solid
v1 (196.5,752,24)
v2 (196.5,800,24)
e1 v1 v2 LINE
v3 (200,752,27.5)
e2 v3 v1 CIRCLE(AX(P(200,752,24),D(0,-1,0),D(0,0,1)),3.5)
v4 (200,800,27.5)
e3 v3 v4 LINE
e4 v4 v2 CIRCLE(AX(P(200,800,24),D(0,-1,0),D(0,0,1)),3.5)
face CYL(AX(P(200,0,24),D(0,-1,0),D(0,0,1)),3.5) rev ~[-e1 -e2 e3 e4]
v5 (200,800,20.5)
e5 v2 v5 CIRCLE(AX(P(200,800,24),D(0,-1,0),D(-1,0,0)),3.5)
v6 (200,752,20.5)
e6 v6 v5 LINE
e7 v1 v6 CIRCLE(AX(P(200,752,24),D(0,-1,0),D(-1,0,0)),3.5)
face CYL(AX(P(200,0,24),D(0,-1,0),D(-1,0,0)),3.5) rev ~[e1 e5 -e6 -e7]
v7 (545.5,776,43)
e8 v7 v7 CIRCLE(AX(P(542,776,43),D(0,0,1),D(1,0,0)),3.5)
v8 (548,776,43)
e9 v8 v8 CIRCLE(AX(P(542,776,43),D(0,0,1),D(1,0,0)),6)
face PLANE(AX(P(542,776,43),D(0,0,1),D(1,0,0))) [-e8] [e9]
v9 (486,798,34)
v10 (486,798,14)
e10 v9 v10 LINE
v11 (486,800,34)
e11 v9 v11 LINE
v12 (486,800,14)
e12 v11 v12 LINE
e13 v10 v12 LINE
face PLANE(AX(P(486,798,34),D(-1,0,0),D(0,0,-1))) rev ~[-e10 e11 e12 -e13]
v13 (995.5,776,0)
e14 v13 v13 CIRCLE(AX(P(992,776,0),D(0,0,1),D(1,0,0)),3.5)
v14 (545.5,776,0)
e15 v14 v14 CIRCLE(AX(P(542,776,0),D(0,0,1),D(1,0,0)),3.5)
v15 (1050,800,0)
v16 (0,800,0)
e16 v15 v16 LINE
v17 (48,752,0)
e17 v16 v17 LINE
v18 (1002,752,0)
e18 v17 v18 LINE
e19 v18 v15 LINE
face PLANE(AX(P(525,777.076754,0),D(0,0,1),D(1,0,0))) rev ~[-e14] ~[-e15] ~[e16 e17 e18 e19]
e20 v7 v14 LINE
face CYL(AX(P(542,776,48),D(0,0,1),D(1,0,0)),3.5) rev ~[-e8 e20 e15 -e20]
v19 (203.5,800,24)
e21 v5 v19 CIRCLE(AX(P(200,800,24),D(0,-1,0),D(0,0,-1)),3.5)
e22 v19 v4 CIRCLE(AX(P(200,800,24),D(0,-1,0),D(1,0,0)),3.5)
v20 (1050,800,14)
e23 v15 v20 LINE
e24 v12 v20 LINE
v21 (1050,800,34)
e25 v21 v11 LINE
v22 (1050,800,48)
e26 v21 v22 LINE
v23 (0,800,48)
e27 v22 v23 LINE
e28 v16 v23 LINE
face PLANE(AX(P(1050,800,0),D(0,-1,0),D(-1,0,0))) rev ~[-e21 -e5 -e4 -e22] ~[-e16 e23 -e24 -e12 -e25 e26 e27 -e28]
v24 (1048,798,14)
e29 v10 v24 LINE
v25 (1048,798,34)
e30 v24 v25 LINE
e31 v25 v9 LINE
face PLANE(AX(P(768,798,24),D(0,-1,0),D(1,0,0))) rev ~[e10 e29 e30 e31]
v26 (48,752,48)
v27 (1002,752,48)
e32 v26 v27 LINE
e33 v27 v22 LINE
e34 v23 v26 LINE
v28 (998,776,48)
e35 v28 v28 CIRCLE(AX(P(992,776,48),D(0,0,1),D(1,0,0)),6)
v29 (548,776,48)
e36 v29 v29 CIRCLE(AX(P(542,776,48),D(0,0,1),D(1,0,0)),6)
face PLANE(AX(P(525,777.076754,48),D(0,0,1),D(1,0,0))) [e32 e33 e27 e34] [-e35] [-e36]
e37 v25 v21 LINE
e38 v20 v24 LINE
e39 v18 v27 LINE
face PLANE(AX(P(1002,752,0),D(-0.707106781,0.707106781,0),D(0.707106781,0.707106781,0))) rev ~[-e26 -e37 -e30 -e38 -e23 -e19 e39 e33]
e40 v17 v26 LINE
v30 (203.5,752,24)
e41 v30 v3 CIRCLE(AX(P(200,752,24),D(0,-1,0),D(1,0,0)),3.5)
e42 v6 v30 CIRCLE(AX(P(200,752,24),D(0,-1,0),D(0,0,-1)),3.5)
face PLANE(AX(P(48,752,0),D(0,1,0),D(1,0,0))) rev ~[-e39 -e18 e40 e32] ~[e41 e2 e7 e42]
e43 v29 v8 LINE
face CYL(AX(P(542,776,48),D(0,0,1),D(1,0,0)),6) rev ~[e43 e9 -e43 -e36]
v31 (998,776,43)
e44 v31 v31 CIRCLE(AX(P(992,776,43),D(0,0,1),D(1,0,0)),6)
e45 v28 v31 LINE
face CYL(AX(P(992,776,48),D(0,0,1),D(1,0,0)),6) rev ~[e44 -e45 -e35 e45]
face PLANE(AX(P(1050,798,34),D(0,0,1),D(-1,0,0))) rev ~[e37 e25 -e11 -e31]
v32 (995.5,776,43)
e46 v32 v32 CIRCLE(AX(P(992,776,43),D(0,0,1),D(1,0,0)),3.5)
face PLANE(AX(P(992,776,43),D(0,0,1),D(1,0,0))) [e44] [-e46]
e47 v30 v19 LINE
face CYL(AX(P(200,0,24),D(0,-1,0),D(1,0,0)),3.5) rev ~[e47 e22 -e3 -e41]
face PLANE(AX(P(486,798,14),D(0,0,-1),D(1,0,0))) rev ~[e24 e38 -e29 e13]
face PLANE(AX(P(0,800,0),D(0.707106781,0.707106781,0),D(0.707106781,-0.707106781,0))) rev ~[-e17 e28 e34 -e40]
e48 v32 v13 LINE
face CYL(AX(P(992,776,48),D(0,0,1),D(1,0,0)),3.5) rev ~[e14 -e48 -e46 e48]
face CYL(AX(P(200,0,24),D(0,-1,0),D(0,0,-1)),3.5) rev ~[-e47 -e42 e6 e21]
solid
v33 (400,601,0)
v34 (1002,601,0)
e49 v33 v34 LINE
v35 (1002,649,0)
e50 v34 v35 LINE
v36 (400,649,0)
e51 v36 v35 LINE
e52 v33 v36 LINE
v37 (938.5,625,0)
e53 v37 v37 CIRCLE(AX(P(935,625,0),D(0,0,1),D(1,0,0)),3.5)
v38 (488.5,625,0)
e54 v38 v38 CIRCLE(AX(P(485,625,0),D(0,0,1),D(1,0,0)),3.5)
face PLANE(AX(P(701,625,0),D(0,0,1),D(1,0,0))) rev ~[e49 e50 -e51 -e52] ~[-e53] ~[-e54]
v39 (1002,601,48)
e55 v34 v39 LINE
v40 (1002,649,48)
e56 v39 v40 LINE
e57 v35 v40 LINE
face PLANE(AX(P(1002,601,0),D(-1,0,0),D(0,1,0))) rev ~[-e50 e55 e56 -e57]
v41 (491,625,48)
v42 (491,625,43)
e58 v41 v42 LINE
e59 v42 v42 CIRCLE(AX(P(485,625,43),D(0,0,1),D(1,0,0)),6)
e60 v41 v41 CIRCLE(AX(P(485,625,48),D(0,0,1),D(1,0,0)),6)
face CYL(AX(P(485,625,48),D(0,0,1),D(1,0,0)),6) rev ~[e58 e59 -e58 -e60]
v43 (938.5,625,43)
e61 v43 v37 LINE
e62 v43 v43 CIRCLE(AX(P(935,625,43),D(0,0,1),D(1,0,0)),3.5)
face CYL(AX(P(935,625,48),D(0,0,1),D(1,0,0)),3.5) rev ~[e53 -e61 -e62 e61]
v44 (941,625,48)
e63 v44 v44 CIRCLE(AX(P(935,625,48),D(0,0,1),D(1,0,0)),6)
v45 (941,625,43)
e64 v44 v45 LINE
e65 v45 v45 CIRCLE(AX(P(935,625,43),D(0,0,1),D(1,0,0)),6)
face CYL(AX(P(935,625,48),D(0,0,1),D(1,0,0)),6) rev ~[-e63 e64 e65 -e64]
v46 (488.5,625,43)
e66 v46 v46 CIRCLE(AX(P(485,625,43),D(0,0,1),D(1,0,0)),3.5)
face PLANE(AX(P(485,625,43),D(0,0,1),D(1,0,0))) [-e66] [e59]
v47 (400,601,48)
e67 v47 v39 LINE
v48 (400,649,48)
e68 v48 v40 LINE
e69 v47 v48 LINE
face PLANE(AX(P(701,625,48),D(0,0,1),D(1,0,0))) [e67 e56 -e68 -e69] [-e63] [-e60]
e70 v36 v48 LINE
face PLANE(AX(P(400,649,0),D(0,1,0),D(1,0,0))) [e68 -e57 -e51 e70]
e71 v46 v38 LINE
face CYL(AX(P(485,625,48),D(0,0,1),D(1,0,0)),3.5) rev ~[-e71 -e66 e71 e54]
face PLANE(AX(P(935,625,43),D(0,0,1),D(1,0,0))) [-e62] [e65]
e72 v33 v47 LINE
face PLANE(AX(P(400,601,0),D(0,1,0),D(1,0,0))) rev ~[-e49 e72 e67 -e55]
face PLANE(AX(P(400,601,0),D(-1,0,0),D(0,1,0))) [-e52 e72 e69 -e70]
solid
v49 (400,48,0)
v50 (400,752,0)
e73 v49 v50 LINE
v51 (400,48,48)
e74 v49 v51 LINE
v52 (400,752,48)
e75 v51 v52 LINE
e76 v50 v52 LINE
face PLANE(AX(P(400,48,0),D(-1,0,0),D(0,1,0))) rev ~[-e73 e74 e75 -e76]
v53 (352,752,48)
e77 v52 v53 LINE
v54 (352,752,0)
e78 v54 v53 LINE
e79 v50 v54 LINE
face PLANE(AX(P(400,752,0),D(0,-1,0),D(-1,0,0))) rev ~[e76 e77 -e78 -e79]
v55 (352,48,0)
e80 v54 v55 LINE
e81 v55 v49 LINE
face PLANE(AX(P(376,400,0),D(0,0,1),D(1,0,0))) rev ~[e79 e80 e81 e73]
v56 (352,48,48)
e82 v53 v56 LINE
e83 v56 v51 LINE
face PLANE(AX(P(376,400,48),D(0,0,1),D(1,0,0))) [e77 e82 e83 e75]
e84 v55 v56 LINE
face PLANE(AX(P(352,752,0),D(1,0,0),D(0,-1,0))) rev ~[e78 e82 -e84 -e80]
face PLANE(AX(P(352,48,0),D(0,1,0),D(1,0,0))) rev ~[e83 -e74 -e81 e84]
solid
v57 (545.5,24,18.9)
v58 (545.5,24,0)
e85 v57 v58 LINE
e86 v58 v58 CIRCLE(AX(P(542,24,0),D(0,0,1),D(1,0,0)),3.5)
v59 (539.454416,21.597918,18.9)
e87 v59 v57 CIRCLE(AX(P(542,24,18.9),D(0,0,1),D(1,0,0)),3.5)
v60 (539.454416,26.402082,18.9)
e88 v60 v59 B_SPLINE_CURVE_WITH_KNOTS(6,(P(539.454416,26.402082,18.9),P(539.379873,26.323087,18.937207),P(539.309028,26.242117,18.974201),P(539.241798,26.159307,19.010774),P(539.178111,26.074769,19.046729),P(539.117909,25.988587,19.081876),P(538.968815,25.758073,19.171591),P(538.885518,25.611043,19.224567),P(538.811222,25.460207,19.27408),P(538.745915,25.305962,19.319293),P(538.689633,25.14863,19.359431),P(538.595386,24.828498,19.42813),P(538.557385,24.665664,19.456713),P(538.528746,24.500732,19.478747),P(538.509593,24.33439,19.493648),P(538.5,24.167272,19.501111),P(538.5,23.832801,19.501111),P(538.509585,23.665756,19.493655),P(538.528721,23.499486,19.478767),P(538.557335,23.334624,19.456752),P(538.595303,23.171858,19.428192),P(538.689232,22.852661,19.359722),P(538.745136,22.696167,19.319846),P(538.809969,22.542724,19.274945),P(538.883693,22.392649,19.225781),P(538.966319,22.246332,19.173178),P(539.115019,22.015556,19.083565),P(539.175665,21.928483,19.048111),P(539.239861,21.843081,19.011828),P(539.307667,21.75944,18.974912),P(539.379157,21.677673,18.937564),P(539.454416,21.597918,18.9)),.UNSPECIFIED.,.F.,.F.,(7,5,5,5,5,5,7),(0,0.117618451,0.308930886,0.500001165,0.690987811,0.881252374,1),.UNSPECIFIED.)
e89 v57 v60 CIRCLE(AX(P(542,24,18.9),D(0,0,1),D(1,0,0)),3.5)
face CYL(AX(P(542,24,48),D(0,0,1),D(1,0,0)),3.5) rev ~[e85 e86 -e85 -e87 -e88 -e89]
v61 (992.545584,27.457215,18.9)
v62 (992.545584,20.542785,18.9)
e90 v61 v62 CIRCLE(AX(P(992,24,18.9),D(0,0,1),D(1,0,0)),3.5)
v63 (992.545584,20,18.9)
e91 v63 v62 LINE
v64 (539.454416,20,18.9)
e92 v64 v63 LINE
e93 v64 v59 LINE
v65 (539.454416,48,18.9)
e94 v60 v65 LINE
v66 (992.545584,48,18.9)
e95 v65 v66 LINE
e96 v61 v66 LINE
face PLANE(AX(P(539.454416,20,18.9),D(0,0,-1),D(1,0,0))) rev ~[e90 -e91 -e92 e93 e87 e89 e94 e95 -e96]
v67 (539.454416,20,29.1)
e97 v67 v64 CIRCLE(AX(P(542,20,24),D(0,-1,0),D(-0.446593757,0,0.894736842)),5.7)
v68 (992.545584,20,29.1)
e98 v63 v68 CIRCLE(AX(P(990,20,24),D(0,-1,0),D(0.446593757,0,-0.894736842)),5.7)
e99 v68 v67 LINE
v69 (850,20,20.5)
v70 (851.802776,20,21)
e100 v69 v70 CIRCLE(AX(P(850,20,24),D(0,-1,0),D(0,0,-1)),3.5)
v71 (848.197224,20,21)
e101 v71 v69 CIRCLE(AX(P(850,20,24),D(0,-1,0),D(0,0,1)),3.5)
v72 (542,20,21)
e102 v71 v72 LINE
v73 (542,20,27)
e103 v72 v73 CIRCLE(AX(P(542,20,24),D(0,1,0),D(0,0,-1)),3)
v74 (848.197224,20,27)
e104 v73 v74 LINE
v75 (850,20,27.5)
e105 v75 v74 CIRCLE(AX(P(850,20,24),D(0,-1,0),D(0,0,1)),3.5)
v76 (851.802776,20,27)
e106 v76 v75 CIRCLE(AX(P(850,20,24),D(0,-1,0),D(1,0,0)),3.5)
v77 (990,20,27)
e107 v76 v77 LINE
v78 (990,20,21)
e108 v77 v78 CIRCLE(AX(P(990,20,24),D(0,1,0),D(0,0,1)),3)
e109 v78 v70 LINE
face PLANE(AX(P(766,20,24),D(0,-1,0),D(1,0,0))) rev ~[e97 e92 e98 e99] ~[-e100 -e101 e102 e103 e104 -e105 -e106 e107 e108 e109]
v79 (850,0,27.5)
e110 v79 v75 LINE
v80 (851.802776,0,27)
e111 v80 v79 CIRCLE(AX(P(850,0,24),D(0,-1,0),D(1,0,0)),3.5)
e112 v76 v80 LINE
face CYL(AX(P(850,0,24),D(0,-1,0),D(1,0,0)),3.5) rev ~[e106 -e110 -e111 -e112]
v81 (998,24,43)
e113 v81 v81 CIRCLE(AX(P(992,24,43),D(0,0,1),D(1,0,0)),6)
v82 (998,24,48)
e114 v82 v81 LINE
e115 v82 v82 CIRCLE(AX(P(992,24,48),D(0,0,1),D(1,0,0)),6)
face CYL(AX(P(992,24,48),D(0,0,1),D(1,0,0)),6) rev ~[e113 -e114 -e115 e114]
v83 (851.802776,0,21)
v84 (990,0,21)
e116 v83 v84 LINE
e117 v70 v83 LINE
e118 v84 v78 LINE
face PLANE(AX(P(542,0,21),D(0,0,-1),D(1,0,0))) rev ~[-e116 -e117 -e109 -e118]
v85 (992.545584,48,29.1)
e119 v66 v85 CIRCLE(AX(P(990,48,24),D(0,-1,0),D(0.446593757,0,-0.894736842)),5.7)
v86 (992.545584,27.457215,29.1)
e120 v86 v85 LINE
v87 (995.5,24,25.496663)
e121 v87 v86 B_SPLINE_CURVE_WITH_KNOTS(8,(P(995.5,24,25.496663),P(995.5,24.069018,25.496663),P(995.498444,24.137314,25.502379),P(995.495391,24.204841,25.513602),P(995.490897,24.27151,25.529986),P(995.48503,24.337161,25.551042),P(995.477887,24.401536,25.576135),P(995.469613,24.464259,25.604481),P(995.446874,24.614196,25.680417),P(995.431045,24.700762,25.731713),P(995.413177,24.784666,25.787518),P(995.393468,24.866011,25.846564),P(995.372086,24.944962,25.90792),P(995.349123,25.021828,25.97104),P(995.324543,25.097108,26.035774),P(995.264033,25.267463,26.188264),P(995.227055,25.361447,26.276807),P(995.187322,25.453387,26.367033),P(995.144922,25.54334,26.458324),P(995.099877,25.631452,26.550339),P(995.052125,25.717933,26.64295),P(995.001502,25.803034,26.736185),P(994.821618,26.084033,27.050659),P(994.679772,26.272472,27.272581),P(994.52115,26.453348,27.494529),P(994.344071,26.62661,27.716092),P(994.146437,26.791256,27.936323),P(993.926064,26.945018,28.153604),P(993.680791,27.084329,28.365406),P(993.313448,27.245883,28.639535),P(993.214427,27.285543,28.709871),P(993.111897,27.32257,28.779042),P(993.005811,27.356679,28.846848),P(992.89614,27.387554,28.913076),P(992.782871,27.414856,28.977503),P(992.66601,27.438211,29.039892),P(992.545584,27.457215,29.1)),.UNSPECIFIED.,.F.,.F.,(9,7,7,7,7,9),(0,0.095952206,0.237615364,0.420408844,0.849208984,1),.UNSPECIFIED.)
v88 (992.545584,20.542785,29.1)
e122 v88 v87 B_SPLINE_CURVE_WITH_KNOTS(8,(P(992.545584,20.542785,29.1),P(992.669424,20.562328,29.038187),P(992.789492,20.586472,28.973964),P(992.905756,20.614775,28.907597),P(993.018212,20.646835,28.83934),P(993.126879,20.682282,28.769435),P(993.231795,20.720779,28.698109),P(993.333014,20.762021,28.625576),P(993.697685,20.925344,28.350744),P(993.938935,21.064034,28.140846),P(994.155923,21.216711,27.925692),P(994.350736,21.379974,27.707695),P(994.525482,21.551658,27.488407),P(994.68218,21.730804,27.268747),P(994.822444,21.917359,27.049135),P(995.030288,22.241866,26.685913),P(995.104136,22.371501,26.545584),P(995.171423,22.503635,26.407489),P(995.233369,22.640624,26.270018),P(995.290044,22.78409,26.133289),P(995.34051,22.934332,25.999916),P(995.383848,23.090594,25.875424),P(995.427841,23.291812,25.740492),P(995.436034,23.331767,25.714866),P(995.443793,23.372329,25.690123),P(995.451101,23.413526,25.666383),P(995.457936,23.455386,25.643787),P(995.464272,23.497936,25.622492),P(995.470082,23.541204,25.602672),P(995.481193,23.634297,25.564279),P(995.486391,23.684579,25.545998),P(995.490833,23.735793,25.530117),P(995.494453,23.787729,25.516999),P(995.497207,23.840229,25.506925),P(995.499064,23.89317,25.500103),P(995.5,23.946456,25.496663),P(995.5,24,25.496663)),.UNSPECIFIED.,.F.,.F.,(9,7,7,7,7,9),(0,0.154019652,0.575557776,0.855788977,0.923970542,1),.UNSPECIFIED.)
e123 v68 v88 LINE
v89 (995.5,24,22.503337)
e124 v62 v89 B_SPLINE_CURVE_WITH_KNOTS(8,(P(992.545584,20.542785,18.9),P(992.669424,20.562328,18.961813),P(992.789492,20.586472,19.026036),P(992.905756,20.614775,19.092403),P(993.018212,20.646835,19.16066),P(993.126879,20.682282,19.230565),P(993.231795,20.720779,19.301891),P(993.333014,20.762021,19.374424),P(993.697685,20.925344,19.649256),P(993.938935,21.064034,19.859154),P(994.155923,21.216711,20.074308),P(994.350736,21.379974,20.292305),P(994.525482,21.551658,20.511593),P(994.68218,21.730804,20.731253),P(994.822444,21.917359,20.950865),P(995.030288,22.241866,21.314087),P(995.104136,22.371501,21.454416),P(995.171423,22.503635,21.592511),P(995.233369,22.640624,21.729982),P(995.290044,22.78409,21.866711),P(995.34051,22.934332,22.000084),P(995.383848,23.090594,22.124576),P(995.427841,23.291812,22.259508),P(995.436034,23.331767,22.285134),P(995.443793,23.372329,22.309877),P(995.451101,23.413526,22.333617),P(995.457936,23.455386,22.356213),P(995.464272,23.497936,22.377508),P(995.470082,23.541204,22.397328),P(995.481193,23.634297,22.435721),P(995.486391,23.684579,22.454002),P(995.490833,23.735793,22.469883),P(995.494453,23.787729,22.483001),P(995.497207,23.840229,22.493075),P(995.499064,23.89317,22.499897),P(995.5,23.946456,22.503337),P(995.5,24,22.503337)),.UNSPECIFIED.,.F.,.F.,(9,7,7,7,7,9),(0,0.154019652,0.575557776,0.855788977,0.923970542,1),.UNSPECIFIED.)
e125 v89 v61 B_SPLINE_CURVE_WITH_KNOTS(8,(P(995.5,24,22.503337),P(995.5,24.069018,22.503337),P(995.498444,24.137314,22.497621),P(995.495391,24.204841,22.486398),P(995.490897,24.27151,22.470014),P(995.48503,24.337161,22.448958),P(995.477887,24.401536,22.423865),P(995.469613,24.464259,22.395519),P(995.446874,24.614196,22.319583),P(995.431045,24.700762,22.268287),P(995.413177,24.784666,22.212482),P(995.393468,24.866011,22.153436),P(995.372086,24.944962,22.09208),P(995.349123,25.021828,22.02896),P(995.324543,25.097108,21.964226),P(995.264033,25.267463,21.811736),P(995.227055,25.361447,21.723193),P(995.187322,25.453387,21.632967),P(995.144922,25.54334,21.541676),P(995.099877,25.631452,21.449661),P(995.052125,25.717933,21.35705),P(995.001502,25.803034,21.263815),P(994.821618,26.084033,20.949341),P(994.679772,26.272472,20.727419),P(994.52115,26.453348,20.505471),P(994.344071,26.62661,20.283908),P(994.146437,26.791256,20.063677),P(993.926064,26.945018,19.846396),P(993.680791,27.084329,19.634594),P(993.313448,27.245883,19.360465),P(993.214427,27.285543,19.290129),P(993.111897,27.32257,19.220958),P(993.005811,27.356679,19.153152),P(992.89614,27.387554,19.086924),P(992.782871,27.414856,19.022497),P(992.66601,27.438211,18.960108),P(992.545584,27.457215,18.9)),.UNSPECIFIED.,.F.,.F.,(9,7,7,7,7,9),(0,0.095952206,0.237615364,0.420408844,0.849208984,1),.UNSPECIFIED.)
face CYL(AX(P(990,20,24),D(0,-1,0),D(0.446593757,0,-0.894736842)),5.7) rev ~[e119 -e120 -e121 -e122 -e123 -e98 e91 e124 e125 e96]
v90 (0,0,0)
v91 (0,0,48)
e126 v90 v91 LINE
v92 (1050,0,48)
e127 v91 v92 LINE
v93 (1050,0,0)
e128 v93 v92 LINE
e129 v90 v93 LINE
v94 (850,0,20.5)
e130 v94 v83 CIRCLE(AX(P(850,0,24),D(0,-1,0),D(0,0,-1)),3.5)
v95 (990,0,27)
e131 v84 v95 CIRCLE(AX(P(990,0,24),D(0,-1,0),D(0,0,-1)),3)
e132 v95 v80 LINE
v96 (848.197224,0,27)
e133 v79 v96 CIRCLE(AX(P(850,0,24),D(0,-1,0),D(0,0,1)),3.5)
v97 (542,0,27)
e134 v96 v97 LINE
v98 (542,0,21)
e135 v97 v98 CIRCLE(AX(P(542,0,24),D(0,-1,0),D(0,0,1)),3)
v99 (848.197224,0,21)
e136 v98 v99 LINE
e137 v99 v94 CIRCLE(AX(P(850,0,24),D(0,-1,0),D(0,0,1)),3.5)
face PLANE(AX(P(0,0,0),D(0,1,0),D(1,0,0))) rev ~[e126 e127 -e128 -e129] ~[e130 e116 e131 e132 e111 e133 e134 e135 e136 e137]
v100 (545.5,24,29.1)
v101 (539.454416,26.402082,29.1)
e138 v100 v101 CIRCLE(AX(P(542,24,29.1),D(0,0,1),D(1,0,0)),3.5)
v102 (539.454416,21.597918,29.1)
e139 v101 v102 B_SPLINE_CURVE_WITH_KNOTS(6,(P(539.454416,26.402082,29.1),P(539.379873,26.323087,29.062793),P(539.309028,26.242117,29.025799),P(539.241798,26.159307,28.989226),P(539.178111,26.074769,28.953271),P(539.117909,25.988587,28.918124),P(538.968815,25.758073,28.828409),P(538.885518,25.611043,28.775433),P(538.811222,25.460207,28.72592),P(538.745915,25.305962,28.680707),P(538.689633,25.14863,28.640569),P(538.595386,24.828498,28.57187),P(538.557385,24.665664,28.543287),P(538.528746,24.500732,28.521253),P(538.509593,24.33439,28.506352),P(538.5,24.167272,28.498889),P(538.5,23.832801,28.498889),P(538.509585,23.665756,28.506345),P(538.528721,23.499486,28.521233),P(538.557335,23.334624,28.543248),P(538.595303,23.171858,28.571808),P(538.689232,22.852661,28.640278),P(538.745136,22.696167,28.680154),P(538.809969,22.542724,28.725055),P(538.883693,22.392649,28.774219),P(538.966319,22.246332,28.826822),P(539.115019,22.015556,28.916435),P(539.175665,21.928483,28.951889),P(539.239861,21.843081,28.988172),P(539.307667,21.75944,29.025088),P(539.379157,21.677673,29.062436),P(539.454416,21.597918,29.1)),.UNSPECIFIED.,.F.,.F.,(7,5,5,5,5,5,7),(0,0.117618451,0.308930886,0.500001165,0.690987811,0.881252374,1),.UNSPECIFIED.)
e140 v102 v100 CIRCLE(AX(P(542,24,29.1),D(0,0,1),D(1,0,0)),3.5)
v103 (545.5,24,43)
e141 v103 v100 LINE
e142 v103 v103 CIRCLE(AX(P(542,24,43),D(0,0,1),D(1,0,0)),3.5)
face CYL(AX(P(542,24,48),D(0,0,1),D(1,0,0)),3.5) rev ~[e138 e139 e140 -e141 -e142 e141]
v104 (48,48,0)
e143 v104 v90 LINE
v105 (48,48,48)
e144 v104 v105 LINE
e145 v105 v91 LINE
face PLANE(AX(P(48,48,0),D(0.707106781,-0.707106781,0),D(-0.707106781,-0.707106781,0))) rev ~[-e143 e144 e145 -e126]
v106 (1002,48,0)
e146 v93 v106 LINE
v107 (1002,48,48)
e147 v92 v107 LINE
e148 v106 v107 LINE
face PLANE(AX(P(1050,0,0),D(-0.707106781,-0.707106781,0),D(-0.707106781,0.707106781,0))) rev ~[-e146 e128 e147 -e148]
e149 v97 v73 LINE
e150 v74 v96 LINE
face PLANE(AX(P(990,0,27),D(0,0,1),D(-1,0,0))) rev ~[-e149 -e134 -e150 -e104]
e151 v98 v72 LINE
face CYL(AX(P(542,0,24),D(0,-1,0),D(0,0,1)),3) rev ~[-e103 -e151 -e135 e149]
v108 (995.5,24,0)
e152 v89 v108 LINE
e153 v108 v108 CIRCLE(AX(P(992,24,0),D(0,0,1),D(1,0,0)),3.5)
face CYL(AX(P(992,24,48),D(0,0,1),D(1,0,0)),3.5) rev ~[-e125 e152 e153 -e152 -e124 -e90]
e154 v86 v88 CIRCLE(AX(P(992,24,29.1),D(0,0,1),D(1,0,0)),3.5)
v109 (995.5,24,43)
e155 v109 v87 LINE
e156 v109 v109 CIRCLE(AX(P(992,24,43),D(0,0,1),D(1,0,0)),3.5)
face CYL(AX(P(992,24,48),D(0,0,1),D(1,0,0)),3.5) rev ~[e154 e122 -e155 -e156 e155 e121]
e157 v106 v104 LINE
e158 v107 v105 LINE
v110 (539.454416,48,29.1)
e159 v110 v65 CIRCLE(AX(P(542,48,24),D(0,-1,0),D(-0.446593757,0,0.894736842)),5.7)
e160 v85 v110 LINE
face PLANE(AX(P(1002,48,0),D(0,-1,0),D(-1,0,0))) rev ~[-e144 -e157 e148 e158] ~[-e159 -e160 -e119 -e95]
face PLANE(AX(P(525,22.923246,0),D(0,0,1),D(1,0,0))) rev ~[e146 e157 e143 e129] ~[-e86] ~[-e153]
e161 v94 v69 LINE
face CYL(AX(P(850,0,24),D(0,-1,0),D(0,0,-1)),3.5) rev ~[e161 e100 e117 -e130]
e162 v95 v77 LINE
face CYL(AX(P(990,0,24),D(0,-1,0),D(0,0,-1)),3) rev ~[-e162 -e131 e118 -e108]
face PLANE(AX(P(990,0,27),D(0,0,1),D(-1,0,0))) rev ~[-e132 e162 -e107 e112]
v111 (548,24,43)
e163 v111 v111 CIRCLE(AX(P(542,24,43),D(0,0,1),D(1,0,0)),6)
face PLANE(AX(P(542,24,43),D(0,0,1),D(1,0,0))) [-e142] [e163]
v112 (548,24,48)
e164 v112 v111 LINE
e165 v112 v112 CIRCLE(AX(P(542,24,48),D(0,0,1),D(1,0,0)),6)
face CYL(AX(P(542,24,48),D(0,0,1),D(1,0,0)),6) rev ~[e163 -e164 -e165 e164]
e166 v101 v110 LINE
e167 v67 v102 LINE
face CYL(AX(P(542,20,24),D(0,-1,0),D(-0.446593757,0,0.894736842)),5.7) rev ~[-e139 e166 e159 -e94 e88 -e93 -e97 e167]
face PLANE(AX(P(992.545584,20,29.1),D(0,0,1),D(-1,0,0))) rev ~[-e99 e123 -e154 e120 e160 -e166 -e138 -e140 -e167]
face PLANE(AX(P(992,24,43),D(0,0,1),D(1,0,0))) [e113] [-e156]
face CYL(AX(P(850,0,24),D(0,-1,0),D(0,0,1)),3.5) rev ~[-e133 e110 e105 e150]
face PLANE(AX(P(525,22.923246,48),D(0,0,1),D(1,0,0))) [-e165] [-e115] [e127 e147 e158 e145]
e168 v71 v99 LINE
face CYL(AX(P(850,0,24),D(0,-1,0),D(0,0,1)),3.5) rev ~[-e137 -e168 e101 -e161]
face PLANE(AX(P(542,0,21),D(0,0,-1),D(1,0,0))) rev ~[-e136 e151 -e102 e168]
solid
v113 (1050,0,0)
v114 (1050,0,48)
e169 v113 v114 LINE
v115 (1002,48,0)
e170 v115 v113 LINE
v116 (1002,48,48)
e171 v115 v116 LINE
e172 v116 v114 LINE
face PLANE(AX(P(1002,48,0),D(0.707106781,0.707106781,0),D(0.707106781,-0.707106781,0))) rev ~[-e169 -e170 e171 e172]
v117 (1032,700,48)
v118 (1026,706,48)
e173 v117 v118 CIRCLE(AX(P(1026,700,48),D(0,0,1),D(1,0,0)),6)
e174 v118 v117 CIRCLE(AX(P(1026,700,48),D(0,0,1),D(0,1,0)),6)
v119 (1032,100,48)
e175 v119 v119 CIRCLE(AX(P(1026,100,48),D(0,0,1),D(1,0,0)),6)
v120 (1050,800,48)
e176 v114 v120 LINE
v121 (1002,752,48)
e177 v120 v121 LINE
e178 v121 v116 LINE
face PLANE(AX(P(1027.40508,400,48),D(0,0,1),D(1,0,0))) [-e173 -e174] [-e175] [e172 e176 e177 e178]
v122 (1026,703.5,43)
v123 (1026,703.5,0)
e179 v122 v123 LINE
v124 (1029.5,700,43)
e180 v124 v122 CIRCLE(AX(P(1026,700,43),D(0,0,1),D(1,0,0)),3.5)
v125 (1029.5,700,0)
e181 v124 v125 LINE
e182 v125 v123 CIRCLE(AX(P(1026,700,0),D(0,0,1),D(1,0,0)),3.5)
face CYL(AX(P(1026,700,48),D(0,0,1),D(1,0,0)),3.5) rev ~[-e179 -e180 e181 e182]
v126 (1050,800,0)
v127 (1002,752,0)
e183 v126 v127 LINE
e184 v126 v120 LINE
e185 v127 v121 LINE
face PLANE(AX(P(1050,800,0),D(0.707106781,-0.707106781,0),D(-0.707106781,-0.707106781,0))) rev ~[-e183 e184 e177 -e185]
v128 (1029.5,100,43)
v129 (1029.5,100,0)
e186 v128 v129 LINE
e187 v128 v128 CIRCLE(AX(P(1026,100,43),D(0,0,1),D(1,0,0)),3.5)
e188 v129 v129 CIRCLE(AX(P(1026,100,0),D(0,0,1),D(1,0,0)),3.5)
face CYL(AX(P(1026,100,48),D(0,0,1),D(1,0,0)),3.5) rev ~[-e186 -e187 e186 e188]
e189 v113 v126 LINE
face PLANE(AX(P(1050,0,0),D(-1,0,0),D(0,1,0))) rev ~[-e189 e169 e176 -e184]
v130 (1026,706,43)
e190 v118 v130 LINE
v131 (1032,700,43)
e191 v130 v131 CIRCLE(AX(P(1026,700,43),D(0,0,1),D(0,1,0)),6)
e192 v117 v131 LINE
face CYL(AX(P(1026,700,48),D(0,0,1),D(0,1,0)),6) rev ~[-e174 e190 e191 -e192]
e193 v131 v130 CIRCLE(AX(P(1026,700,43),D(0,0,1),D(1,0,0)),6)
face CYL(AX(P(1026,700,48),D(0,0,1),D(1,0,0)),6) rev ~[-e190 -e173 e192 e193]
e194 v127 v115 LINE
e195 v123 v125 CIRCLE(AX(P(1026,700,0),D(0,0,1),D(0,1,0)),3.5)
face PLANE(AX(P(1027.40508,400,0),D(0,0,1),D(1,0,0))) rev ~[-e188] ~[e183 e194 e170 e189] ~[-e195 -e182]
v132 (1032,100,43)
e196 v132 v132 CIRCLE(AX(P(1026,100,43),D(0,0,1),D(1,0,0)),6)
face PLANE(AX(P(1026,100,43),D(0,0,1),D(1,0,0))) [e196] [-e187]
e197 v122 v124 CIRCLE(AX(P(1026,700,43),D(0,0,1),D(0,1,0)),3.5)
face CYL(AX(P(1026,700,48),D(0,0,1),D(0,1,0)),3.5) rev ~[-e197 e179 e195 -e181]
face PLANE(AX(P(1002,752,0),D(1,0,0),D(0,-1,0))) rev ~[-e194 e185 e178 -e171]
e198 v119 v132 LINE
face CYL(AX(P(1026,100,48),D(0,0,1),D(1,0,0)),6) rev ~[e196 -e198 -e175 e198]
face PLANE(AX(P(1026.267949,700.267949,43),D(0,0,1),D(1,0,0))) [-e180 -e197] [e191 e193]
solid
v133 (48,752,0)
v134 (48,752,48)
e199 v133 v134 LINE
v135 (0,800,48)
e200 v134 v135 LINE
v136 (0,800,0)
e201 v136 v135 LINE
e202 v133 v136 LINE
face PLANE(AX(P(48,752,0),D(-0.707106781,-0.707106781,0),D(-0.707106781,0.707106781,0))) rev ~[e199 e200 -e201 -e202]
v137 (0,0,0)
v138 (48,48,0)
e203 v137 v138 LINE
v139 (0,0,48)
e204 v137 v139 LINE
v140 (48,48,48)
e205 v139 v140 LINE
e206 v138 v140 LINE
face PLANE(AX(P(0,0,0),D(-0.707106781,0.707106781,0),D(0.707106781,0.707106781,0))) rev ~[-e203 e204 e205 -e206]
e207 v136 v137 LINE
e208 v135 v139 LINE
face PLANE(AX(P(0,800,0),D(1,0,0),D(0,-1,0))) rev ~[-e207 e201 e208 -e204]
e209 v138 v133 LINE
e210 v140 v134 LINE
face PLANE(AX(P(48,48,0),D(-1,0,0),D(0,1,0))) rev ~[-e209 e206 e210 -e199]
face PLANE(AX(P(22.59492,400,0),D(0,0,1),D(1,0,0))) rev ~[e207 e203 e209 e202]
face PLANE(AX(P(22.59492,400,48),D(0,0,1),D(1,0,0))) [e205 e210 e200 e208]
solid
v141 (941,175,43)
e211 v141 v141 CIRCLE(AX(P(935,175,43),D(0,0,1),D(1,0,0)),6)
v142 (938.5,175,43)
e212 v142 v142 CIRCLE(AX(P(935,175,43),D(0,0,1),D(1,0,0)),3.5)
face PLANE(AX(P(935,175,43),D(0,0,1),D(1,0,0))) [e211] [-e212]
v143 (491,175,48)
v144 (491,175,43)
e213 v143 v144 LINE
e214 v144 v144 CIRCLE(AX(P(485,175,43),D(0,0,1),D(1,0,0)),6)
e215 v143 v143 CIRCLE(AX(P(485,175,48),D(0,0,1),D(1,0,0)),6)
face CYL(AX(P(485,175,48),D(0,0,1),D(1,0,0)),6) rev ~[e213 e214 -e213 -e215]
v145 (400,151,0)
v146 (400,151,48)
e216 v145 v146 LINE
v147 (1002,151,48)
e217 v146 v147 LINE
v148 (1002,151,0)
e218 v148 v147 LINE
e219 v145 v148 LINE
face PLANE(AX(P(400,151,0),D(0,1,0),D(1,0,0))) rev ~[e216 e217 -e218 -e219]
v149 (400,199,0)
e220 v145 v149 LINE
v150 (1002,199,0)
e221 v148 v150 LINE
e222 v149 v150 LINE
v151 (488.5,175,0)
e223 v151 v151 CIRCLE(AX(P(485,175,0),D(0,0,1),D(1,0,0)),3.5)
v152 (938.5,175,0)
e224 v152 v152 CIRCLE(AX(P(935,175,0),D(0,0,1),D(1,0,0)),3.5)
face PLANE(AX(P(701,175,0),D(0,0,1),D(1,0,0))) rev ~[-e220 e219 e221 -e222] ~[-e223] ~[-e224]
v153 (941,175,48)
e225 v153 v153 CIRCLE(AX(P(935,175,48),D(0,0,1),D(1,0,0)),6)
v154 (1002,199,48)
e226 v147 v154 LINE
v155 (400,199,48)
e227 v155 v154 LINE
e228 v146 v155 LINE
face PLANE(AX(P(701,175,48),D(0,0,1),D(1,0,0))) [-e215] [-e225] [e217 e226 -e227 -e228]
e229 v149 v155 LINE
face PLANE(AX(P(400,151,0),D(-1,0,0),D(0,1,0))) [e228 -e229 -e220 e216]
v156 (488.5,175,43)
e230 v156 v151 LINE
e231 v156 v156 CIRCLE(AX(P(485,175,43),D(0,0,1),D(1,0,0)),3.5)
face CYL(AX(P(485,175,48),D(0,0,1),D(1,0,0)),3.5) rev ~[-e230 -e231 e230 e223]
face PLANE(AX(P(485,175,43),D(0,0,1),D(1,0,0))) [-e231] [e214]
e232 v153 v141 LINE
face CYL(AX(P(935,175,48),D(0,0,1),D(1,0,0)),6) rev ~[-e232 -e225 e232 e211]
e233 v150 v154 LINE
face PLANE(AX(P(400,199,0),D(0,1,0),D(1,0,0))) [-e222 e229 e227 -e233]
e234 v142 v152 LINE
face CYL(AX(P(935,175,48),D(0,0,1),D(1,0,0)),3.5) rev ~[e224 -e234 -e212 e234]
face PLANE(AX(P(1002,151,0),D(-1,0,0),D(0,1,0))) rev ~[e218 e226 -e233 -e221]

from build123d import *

# Parameters (mm, degrees)
F1_DEPTH  = 48
F2_DEPTH  = 48
F3_DEPTH  = 48
F4_DEPTH  = 48
F5_DEPTH  = 48
F0_W      = 602
F0_H      = 48
F6_DEPTH  = 48
F7_DEPTH  = 48
F8_R      = 6
F10_DEPTH = 5
F9_R      = 3.5
F11_DEPTH = 48.001
F13_DEPTH = 800.001
F14_DEPTH = 800.001
F16_DEPTH = 50
F17_START = -20
F17_DEPTH = 30
F18_START = -798
F18_DEPTH = 2


with BuildPart() as f1:
    # F0 (on Top) → F1 (new body)
    with BuildSketch(Plane.XY):
        Polygon((0, 800), (0, 0), (48, 48), (48, 752), align=None)
    extrude(amount=F1_DEPTH)


with BuildPart() as f2:
    # F0 (on Top) → F2 (new body)
    with BuildSketch(Plane.XY):
        Polygon((48, 48), (0, 0), (1050, 0), (1002, 48), (400, 48), (352, 48), align=None)
    extrude(amount=F2_DEPTH)


with BuildPart() as f3:
    # F0 (on Top) → F3 (new body)
    with BuildSketch(Plane.XY):
        Polygon((1002, 48), (1050, 0), (1050, 800), (1002, 752), (1002, 649), (1002, 601), (1002, 199), (1002, 151), align=None)
    extrude(amount=F3_DEPTH)


with BuildPart() as f4:
    # F0 (on Top) → F4 (new body)
    with BuildSketch(Plane.XY):
        Polygon((1050, 800), (0, 800), (48, 752), (352, 752), (400, 752), (1002, 752), align=None)
    extrude(amount=F4_DEPTH)


with BuildPart() as f5:
    # F0 (on Top) → F5 (new body)
    with BuildSketch(Plane.XY):
        Polygon((352, 752), (352, 48), (400, 48), (400, 151), (400, 199), (400, 601), (400, 649), (400, 752), align=None)
    extrude(amount=F5_DEPTH)


with BuildPart() as f6:
    # F0 (on Top) → F6 (new body)
    with BuildSketch(Plane.XY):
        with Locations((701, 175)):
            Rectangle(F0_W, F0_H)
    extrude(amount=F6_DEPTH)


with BuildPart() as f7:
    # F0 (on Top) → F7 (new body)
    with BuildSketch(Plane.XY):
        with Locations((701, 625)):
            Rectangle(F0_W, F0_H)
    extrude(amount=F7_DEPTH)


with BuildPart() as f10_tool:
    # F8 (on face) → F10 (new body)
    with BuildSketch(Plane.XY.offset(48)):
        with BuildLine():
            ThreePointArc((1026, 706), (1021.7573593129, 695.7573593129), (1032, 700))
            ThreePointArc((1032, 700), (1030.2426406871, 704.2426406871), (1026, 706))
        make_face()
        with Locations((1026, 100)):
            Circle(F8_R)
        with Locations((992, 776)):
            Circle(F8_R)
        with Locations((992, 24)):
            Circle(F8_R)
        with Locations((542, 776)):
            Circle(F8_R)
        with Locations((542, 24)):
            Circle(F8_R)
        with Locations((935, 625)):
            Circle(F8_R)
        with Locations((935, 175)):
            Circle(F8_R)
        with Locations((485, 625)):
            Circle(F8_R)
        with Locations((485, 175)):
            Circle(F8_R)
    extrude(amount=-F10_DEPTH)


with BuildPart() as f2_1:
    add(f2.part)

    # F10: cut by f10_tool
    add(f10_tool.part, mode=Mode.SUBTRACT)


with BuildPart() as f3_1:
    add(f3.part)

    # F10: cut by f10_tool
    add(f10_tool.part, mode=Mode.SUBTRACT)


with BuildPart() as f4_1:
    add(f4.part)

    # F10: cut by f10_tool
    add(f10_tool.part, mode=Mode.SUBTRACT)


with BuildPart() as f6_1:
    add(f6.part)

    # F10: cut by f10_tool
    add(f10_tool.part, mode=Mode.SUBTRACT)


with BuildPart() as f7_1:
    add(f7.part)

    # F10: cut by f10_tool
    add(f10_tool.part, mode=Mode.SUBTRACT)


with BuildPart() as f11_tool:
    # F9 (on face) → F11 (new body, through all)
    with BuildSketch(Plane.XY.offset(48)):
        with BuildLine():
            ThreePointArc((1026, 703.5), (1023.5251262658, 697.5251262658), (1029.5, 700))
            ThreePointArc((1029.5, 700), (1028.4748737342, 702.4748737342), (1026, 703.5))
        make_face()
        with Locations((1026, 100)):
            Circle(F9_R)
        with Locations((992, 776)):
            Circle(F9_R)
        with Locations((992, 24)):
            Circle(F9_R)
        with Locations((542, 776)):
            Circle(F9_R)
        with Locations((542, 24)):
            Circle(F9_R)
        with Locations((935, 625)):
            Circle(F9_R)
        with Locations((935, 175)):
            Circle(F9_R)
        with Locations((485, 625)):
            Circle(F9_R)
        with Locations((485, 175)):
            Circle(F9_R)
    extrude(amount=-F11_DEPTH)


with BuildPart() as f2_2:
    add(f2_1.part)

    # F11: cut by f11_tool
    add(f11_tool.part, mode=Mode.SUBTRACT)

    # F12 (on face) → F14 (cut, through all)
    with BuildSketch(Plane.XZ):
        with BuildLine():
            Line((850, 24), (850, 27.5))
            ThreePointArc((850, 27.5), (846.5, 24), (850, 20.5))
            Line((850, 20.5), (850, 24))
        make_face()
        with BuildLine():
            Line((850, 24), (850, 20.5))
            ThreePointArc((850, 20.5), (852.4748737342, 21.5251262658), (853.5, 24))
            Line((853.5, 24), (850, 24))
        make_face()
        with BuildLine():
            ThreePointArc((853.5, 24), (852.4748737342, 26.4748737342), (850, 27.5))
            Line((850, 27.5), (850, 24))
            Line((850, 24), (853.5, 24))
        make_face()
    extrude(amount=-F14_DEPTH, mode=Mode.SUBTRACT)

    # F15 (on Front) → F16 (cut)
    with BuildSketch(Plane.XZ):
        with BuildLine():
            Line((990, 27), (542, 27))
            ThreePointArc((542, 27), (539, 24), (542, 21))
            Line((542, 21), (990, 21))
            ThreePointArc((990, 21), (993, 24), (990, 27))
        make_face()
    extrude(amount=-F16_DEPTH, mode=Mode.SUBTRACT)

    # F15 (on Front) → F17 (cut)
    with BuildSketch(Plane.XZ.offset(F17_START)):
        with BuildLine():
            Line((539.4544155877, 18.9), (992.5455844123, 18.9))
            ThreePointArc((992.5455844123, 18.9), (995.7, 24), (992.5455844123, 29.1))
            Line((992.5455844123, 29.1), (539.4544155877, 29.1))
            ThreePointArc((539.4544155877, 29.1), (536.3, 24), (539.4544155877, 18.9))
        make_face()
        with BuildLine():
            ThreePointArc((542, 21), (539, 24), (542, 27))
            Line((542, 27), (990, 27))
            ThreePointArc((990, 27), (993, 24), (990, 21))
            Line((990, 21), (542, 21))
        make_face(mode=Mode.SUBTRACT)
    extrude(amount=-F17_DEPTH, mode=Mode.SUBTRACT)


with BuildPart() as f3_2:
    add(f3_1.part)

    # F11: cut by f11_tool
    add(f11_tool.part, mode=Mode.SUBTRACT)


with BuildPart() as f4_2:
    add(f4_1.part)

    # F11: cut by f11_tool
    add(f11_tool.part, mode=Mode.SUBTRACT)

    # F12 (on face) → F13 (cut, through all)
    with BuildSketch(Plane.XZ):
        with BuildLine():
            Line((200, 27.5), (200, 24))
            Line((200, 24), (200, 20.5))
            ThreePointArc((200, 20.5), (202.4748737342, 21.5251262658), (203.5, 24))
            ThreePointArc((203.5, 24), (202.4748737342, 26.4748737342), (200, 27.5))
        make_face()
        with BuildLine():
            Line((200, 24), (196.5, 24))
            ThreePointArc((196.5, 24), (197.5251262658, 21.5251262658), (200, 20.5))
            Line((200, 20.5), (200, 24))
        make_face()
        with BuildLine():
            ThreePointArc((200, 27.5), (197.5251262658, 26.4748737342), (196.5, 24))
            Line((196.5, 24), (200, 24))
            Line((200, 24), (200, 27.5))
        make_face()
    extrude(amount=-F13_DEPTH, mode=Mode.SUBTRACT)

    # F15 (on Front) → F18 (cut)
    with BuildSketch(Plane.XZ.offset(F18_START)):
        Polygon((486, 14), (1050, 14), (1050, 24), (1050, 34), (497, 34), (486, 34), align=None)
        with BuildLine():
            ThreePointArc((992.5455844123, 29.1), (995.7, 24), (992.5455844123, 18.9))
            Line((992.5455844123, 18.9), (539.4544155877, 18.9))
            ThreePointArc((539.4544155877, 18.9), (536.3, 24), (539.4544155877, 29.1))
            Line((539.4544155877, 29.1), (992.5455844123, 29.1))
        make_face(mode=Mode.SUBTRACT)
        with BuildLine():
            Line((539.4544155877, 18.9), (992.5455844123, 18.9))
            ThreePointArc((992.5455844123, 18.9), (995.7, 24), (992.5455844123, 29.1))
            Line((992.5455844123, 29.1), (539.4544155877, 29.1))
            ThreePointArc((539.4544155877, 29.1), (536.3, 24), (539.4544155877, 18.9))
        make_face()
        with BuildLine():
            ThreePointArc((542, 21), (539, 24), (542, 27))
            Line((542, 27), (990, 27))
            ThreePointArc((990, 27), (993, 24), (990, 21))
            Line((990, 21), (542, 21))
        make_face(mode=Mode.SUBTRACT)
        with BuildLine():
            Line((990, 27), (542, 27))
            ThreePointArc((542, 27), (539, 24), (542, 21))
            Line((542, 21), (990, 21))
            ThreePointArc((990, 21), (993, 24), (990, 27))
        make_face()
    extrude(amount=-F18_DEPTH, mode=Mode.SUBTRACT)


with BuildPart() as f6_2:
    add(f6_1.part)

    # F11: cut by f11_tool
    add(f11_tool.part, mode=Mode.SUBTRACT)


with BuildPart() as f7_2:
    add(f7_1.part)

    # F11: cut by f11_tool
    add(f11_tool.part, mode=Mode.SUBTRACT)


solid = Compound([f1.part, f5.part, f2_2.part, f3_2.part, f4_2.part, f6_2.part, f7_2.part])
